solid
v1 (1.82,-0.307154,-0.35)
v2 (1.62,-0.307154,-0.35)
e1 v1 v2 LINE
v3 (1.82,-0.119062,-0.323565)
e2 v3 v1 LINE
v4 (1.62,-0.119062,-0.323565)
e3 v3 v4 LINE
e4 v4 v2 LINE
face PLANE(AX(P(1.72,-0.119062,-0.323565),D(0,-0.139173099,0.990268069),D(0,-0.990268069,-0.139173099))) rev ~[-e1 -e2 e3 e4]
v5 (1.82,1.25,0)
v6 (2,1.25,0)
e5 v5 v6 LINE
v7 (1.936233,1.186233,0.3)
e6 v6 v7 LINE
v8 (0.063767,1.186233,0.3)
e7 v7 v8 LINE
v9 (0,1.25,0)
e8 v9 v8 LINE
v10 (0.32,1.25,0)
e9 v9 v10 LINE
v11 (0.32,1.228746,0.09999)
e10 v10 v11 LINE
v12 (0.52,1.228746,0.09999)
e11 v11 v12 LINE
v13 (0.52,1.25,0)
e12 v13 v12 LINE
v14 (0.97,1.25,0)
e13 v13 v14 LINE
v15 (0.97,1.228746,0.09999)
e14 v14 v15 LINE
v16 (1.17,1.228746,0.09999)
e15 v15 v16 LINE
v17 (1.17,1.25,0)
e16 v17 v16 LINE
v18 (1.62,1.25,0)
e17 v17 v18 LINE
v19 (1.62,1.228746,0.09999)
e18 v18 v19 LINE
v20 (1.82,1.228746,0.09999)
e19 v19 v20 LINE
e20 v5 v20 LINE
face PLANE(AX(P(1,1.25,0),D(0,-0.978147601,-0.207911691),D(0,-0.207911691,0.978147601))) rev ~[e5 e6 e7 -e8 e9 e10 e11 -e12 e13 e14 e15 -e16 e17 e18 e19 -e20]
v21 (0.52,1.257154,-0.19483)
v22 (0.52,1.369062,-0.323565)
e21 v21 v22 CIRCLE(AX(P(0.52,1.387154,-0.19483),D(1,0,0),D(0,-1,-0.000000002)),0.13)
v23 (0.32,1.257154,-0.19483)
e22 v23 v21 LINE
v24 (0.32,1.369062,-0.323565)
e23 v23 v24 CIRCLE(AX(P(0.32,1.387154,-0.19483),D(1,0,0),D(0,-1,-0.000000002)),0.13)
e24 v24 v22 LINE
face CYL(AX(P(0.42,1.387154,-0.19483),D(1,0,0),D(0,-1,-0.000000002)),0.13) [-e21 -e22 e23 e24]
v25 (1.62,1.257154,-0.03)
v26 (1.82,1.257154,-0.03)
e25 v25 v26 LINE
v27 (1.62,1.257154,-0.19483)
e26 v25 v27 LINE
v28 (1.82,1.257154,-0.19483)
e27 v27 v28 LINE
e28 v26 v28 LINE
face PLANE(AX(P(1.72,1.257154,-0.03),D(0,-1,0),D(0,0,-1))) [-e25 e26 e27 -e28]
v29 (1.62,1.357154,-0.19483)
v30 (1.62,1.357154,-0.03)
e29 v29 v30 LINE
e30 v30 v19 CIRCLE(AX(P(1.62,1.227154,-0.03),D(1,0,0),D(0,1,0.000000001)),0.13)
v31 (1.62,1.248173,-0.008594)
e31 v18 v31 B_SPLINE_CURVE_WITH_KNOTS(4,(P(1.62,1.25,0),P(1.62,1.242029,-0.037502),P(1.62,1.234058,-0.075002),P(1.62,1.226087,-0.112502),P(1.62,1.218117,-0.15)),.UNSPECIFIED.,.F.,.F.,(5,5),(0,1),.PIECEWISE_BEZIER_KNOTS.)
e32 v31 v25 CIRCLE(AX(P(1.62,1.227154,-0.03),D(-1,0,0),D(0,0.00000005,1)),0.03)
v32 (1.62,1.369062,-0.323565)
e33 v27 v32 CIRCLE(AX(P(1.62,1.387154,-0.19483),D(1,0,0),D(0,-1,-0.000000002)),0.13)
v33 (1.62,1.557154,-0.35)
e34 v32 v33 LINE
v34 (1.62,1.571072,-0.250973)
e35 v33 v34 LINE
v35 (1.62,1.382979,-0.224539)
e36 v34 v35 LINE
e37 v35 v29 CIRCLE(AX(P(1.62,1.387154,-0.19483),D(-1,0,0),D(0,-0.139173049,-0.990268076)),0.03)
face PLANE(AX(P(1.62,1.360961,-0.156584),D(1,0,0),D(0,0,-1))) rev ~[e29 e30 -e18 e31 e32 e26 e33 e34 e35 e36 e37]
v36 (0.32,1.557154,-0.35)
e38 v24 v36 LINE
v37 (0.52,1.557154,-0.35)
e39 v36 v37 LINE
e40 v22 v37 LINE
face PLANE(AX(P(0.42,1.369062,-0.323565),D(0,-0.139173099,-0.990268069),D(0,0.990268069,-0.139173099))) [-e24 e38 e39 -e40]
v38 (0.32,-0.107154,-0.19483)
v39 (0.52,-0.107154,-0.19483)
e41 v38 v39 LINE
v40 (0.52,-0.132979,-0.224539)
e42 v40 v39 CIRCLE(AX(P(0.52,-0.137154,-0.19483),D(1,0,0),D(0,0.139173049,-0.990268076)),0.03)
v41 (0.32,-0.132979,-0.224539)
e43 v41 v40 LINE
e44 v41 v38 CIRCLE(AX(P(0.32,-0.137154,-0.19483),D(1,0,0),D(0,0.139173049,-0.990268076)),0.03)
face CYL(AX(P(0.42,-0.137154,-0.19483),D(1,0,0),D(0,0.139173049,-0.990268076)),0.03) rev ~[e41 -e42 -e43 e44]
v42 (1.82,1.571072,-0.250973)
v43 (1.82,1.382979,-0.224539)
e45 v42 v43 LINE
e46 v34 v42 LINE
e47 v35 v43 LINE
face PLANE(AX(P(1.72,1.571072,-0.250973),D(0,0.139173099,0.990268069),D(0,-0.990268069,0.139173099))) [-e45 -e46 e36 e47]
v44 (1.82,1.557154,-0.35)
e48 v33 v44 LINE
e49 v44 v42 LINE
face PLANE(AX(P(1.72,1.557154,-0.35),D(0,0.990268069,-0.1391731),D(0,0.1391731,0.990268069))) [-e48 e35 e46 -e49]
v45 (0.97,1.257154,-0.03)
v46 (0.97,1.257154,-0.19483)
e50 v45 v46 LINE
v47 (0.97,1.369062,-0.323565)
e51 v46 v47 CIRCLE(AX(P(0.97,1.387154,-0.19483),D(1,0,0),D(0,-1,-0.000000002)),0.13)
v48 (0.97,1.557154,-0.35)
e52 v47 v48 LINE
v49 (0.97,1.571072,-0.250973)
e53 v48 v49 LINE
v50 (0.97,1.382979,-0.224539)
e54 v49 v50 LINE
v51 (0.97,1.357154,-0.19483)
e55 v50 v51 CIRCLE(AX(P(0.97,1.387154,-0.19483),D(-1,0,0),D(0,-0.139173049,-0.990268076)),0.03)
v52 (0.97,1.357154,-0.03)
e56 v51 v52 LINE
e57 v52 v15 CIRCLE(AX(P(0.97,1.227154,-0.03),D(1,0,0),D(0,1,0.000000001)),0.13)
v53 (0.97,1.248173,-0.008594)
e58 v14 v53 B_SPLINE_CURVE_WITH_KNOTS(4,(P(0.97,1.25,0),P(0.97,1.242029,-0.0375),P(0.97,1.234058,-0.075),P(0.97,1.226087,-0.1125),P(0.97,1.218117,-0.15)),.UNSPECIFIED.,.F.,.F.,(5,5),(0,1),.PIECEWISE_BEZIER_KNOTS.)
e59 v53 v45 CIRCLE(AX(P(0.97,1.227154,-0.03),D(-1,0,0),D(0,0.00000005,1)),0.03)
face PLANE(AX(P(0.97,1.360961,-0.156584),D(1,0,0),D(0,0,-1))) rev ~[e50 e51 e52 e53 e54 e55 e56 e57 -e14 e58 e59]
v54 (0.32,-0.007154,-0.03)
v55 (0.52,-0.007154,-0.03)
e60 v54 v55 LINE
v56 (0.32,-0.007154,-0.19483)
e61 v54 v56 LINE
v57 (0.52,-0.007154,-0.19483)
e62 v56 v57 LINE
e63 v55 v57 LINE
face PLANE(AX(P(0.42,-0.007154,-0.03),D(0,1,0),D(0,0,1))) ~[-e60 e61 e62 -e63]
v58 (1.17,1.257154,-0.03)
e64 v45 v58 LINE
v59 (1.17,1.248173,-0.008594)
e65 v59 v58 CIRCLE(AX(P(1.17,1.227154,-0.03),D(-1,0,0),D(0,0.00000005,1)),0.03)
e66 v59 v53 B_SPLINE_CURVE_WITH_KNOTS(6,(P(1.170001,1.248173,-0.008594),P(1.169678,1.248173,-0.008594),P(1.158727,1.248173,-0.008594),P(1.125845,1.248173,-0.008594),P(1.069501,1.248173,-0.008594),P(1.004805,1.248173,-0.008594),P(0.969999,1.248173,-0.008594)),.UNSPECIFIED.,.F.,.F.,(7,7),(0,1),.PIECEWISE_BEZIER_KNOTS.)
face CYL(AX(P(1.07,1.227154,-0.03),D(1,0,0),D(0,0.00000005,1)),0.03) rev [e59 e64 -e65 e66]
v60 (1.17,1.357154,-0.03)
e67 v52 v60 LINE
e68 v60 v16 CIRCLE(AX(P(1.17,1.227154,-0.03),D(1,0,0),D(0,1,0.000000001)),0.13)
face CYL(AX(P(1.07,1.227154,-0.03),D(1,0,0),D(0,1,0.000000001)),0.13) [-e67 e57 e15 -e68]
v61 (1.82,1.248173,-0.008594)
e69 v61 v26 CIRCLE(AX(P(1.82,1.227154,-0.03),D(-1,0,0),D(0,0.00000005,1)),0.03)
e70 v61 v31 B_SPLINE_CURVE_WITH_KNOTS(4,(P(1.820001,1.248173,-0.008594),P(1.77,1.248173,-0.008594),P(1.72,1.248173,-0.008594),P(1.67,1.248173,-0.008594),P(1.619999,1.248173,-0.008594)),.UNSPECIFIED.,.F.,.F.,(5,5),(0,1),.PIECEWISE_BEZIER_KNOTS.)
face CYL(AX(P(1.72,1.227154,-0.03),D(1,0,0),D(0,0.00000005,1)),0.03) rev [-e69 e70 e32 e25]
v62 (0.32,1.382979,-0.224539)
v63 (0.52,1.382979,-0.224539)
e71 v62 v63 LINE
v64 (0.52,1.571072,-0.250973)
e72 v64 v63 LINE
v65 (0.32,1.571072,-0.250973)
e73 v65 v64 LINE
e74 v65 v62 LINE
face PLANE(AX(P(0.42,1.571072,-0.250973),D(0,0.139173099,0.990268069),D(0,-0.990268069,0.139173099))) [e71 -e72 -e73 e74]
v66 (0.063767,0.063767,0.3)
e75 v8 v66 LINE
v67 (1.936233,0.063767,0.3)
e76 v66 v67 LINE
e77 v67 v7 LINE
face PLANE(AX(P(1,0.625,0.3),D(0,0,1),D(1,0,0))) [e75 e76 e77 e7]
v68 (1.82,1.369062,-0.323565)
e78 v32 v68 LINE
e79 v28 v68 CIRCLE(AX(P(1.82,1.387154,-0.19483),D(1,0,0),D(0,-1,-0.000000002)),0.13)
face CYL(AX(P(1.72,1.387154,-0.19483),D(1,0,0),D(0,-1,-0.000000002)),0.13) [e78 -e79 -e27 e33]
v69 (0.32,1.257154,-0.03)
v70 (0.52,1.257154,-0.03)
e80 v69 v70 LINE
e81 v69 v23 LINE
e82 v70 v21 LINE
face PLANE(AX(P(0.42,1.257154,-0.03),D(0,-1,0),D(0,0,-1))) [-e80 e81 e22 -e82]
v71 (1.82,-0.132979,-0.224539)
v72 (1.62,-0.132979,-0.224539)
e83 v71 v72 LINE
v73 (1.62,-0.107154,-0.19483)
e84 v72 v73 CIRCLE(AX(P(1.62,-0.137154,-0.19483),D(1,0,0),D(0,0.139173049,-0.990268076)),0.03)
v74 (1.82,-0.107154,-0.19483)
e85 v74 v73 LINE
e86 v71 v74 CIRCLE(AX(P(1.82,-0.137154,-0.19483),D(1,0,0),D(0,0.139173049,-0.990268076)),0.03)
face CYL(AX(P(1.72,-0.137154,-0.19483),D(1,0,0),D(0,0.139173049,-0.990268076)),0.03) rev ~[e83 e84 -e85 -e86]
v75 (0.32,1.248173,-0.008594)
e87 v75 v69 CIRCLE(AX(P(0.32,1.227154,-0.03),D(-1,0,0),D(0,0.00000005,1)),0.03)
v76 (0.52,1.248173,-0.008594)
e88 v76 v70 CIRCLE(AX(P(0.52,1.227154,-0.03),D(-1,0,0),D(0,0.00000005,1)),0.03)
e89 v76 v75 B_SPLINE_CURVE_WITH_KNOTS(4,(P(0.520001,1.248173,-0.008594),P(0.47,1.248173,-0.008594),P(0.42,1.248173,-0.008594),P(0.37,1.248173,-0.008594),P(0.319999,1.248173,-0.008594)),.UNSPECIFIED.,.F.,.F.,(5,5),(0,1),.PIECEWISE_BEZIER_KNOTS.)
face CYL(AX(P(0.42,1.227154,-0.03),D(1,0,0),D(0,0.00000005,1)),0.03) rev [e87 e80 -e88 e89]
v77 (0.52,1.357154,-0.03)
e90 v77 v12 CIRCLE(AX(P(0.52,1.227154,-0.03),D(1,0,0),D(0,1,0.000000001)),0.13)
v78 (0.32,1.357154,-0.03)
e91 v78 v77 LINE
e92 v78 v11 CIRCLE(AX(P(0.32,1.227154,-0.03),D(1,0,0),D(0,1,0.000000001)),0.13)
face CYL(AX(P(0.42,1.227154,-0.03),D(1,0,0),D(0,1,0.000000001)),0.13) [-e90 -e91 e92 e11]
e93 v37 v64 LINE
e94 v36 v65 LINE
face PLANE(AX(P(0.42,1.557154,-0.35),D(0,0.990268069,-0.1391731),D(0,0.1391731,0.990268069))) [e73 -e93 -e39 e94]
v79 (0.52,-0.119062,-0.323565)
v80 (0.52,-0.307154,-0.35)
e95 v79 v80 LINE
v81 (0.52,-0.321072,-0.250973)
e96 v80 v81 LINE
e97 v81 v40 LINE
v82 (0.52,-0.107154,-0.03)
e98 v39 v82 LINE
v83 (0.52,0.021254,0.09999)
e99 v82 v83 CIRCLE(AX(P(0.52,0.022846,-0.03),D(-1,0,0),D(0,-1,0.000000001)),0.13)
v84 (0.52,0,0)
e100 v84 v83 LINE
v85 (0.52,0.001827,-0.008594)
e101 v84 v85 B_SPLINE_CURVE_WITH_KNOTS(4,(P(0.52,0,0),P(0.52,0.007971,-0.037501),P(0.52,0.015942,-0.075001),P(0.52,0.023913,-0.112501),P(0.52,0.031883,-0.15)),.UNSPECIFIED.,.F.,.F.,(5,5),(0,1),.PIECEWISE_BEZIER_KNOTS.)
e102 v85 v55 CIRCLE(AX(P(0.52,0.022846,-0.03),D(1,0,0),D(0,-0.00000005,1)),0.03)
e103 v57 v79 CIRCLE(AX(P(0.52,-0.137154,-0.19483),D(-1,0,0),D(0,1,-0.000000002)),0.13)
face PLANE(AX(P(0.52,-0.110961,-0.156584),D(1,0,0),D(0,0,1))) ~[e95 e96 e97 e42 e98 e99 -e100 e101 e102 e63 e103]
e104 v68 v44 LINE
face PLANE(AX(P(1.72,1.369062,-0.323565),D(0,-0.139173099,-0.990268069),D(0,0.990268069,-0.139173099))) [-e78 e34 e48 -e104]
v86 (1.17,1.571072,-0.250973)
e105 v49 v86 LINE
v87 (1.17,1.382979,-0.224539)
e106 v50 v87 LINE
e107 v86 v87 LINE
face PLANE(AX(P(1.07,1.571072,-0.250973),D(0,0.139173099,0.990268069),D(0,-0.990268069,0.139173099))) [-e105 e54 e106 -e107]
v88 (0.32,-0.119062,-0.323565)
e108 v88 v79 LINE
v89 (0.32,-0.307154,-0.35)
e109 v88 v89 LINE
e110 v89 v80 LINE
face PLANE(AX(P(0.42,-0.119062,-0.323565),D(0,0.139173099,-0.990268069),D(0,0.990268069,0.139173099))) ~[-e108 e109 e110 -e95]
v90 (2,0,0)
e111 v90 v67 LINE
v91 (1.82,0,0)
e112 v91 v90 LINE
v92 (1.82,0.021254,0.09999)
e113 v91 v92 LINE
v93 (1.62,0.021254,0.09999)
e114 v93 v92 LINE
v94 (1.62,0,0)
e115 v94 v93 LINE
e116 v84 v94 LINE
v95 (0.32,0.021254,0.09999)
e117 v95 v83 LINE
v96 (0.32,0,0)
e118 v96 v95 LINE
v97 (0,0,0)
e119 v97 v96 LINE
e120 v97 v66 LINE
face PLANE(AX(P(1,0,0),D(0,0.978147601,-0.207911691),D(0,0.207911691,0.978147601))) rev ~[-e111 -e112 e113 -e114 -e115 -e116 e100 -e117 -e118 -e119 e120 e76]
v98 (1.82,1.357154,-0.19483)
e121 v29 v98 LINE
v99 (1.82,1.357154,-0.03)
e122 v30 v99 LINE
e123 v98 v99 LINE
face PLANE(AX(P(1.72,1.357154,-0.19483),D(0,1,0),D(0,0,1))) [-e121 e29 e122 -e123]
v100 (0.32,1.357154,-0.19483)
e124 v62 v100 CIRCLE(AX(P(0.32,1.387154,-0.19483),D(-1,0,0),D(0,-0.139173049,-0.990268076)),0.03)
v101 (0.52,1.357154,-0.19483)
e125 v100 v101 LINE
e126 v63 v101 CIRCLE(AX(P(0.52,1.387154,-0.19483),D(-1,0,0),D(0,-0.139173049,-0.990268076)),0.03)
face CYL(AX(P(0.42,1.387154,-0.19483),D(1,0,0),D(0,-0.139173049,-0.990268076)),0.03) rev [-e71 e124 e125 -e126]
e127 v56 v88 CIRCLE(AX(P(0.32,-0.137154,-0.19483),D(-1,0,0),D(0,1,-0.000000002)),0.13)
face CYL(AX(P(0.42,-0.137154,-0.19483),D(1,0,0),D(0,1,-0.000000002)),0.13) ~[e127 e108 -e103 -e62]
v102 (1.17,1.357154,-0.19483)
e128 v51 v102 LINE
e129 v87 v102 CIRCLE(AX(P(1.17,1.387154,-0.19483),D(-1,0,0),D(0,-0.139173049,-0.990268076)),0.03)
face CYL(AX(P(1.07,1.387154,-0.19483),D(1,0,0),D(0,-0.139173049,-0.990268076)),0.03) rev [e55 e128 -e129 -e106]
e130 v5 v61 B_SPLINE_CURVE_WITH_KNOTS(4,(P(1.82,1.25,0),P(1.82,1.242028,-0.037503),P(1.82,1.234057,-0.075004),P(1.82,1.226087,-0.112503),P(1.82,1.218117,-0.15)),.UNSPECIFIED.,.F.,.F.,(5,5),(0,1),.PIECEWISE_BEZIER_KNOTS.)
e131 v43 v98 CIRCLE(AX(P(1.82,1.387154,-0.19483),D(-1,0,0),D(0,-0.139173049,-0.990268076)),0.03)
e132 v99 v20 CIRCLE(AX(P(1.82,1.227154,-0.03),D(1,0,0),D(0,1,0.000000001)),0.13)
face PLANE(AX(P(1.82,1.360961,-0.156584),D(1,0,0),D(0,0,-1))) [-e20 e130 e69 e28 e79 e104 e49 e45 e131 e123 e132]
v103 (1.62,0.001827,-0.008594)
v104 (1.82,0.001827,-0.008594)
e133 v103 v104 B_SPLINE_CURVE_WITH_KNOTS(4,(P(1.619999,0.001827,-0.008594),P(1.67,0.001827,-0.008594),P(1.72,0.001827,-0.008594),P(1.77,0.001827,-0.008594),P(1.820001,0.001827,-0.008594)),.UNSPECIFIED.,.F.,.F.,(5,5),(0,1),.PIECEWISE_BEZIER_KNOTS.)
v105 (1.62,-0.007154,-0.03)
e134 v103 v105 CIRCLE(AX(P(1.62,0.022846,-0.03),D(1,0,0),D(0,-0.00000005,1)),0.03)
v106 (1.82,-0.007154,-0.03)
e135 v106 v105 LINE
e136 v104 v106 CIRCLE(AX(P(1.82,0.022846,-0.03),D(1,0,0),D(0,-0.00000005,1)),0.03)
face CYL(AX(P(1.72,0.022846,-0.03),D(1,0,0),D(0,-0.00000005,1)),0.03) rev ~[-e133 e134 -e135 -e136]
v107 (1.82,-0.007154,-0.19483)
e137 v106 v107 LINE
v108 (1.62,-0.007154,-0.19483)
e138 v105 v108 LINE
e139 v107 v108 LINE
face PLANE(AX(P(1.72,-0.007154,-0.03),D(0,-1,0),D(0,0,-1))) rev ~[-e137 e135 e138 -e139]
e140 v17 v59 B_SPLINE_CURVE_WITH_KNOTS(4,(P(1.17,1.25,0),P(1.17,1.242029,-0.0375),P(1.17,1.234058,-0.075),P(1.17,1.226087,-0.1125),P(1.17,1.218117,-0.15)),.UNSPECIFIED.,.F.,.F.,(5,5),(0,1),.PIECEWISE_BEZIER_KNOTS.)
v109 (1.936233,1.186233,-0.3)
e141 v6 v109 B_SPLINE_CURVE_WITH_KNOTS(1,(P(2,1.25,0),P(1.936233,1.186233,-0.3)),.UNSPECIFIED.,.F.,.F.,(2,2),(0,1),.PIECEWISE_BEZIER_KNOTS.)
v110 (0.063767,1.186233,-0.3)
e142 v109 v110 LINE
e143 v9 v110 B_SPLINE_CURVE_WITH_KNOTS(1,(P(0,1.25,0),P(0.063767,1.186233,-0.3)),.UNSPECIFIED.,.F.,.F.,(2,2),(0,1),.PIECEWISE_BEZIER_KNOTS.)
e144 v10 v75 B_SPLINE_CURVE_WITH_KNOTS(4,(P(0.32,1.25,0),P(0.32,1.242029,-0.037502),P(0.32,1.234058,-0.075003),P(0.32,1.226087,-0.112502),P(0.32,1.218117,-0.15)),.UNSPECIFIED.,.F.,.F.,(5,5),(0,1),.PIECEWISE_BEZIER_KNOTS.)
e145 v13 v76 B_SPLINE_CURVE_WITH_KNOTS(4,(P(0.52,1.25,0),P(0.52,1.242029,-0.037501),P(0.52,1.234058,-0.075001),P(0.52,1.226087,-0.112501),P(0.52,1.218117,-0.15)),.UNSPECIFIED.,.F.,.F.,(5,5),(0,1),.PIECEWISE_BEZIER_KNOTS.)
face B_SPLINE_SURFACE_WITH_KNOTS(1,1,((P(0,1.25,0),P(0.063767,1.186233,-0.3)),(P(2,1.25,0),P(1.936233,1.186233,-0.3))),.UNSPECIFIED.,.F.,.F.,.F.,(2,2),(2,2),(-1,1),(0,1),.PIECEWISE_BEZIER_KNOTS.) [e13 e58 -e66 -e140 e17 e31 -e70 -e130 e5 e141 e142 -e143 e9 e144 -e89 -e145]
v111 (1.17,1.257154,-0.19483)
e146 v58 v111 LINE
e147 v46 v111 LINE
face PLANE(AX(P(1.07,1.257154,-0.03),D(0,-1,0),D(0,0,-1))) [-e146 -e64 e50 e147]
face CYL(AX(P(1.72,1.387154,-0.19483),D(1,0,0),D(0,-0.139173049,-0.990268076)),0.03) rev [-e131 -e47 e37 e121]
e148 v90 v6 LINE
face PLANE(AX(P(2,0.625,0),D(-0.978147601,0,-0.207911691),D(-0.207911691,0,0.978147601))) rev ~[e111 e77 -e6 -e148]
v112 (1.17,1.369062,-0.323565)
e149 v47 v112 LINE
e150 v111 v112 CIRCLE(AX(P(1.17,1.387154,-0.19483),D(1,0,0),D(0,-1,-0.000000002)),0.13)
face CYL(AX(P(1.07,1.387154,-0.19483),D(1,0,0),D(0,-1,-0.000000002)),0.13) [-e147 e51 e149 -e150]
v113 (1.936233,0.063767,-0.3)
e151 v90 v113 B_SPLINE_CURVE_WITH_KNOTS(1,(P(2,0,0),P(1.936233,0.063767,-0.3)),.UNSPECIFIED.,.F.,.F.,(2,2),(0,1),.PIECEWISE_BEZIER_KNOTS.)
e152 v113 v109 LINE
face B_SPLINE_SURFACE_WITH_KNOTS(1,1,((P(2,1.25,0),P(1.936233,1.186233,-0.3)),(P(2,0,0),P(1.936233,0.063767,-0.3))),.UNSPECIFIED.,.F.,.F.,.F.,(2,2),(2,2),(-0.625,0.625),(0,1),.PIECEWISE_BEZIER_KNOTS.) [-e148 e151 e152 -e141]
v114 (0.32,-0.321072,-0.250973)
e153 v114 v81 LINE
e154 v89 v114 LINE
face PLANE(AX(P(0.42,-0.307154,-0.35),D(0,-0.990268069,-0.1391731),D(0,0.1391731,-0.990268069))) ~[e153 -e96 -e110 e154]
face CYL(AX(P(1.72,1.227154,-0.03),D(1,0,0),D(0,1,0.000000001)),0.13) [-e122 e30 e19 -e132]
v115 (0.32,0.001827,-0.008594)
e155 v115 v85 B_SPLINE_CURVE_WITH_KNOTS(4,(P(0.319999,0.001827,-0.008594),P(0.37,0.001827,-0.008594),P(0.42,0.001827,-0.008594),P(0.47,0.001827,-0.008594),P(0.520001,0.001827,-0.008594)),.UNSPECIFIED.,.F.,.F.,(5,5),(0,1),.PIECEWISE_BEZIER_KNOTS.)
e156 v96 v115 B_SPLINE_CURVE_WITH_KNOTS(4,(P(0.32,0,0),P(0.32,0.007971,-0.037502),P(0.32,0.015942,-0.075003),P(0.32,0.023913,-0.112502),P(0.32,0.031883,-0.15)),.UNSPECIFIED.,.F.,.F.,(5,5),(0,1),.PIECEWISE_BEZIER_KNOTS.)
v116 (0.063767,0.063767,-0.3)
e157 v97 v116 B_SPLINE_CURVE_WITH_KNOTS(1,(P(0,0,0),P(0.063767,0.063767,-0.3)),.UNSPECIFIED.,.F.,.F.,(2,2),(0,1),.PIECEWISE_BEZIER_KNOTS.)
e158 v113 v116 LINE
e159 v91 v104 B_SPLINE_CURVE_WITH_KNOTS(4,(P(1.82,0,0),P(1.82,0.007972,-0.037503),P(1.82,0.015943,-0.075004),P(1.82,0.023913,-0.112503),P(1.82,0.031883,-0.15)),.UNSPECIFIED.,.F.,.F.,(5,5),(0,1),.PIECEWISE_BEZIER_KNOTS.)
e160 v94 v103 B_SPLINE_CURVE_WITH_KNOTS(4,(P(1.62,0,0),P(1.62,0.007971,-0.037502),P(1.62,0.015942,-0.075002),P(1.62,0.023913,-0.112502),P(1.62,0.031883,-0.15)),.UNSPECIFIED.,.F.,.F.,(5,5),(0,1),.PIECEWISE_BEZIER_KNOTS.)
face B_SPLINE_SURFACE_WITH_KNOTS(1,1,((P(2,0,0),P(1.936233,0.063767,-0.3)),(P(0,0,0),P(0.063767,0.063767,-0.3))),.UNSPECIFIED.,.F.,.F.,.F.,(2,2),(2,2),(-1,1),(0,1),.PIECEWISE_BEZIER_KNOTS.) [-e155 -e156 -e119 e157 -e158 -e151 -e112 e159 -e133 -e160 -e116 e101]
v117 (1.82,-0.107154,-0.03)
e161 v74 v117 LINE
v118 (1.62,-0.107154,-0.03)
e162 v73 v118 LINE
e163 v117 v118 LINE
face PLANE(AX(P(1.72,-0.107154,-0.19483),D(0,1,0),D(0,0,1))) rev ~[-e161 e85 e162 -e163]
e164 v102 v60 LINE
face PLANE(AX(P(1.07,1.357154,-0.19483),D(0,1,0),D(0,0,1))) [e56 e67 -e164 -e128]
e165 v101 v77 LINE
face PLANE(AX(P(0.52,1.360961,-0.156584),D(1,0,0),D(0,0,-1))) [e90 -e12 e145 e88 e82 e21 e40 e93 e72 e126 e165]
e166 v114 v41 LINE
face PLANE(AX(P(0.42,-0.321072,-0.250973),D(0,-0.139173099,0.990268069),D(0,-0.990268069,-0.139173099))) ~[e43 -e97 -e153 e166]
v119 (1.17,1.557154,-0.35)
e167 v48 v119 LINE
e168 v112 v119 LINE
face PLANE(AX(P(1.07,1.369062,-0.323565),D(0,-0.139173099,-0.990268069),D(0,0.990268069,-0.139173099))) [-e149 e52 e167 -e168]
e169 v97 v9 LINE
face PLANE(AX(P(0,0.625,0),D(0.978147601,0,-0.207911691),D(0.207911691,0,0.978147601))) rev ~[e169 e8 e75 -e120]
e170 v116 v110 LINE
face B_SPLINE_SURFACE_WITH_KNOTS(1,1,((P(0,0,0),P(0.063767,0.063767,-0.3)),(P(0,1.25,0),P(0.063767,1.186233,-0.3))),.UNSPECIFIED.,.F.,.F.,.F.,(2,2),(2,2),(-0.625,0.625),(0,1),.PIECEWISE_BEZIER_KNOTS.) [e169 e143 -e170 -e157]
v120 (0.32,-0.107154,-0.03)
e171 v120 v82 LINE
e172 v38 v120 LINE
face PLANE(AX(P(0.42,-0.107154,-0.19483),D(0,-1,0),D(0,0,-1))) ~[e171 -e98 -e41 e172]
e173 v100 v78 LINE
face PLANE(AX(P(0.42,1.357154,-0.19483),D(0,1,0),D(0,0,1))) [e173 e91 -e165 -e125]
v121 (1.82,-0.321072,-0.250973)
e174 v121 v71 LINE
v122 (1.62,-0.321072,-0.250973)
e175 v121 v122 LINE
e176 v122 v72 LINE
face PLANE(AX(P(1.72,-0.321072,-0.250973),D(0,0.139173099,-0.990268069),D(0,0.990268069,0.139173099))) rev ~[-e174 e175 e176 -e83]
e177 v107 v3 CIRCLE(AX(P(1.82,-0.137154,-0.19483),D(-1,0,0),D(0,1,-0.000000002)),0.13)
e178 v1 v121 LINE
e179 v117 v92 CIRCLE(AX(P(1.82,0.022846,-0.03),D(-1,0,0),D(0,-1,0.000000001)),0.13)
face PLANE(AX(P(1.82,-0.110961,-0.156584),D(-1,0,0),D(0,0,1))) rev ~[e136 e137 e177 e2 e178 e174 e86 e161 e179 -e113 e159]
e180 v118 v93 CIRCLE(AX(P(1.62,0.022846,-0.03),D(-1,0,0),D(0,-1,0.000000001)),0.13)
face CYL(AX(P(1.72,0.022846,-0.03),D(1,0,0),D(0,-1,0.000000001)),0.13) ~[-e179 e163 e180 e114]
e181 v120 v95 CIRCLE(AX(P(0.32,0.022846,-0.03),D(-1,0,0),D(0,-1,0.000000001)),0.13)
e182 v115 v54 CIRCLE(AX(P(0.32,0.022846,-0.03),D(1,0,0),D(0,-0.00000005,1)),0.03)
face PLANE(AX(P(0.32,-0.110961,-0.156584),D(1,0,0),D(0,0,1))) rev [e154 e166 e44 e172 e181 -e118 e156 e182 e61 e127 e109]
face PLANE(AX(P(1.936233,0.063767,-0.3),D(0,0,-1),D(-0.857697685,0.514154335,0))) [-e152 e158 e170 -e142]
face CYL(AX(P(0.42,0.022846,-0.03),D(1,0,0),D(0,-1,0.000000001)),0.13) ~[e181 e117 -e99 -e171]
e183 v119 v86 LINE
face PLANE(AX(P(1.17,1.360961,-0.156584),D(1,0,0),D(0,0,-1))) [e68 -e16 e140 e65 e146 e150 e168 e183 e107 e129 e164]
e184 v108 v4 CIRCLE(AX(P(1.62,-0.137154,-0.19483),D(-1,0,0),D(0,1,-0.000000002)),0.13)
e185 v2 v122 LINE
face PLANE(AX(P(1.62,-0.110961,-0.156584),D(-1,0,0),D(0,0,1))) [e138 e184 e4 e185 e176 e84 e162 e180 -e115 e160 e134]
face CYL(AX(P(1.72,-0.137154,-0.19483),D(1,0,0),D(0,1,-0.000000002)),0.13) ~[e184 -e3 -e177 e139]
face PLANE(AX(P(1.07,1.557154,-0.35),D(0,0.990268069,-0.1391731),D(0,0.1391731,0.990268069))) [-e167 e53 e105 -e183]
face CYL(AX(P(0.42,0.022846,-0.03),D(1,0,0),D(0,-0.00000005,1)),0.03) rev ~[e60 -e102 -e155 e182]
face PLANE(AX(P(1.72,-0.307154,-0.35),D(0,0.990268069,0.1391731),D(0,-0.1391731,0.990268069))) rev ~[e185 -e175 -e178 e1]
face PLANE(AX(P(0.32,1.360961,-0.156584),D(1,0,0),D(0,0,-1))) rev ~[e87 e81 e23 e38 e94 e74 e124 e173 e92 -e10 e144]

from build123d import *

# Parameters (mm, degrees)
SKETCH1_W            = 2
SKETCH1_H            = 1.25
BOSS_EXTRUDE1_DEPTH  = 0.3
BOSS_EXTRUDE1_TAPER  = 12
SKETCH2_W            = 2
SKETCH2_H            = 1.25
BOSS_EXTRUDE2_DEPTH  = 0.3
BOSS_EXTRUDE2_TAPER  = 12
EXTRUDE_THIN1_DEPTH  = 0.1
LPATTERN1_COUNT      = 3
LPATTERN1_PITCH      = 0.65
MIRROR1_COPY_1_DEPTH = 0.1
LPATTERN2_COUNT      = 2
LPATTERN2_PITCH      = 0.65


with BuildPart() as part:
    # Sketch1 → Boss-Extrude1 (new body)
    with BuildSketch(Plane.XY):
        with Locations((1, 0.625)):
            Rectangle(SKETCH1_W, SKETCH1_H)
    extrude(amount=BOSS_EXTRUDE1_DEPTH, taper=BOSS_EXTRUDE1_TAPER)

    # Sketch2 → Boss-Extrude2 (add)
    with BuildSketch(Plane(origin=(0, 0, 0), x_dir=(-1, 0, 0), z_dir=(0, 0, -1))):
        with Locations((-1, 0.625)):
            Rectangle(SKETCH2_W, SKETCH2_H)
    extrude(amount=BOSS_EXTRUDE2_DEPTH, taper=BOSS_EXTRUDE2_TAPER)

    # Sketch4 → Extrude-Thin1 (add, symmetric)
    with BuildSketch(Plane(origin=(0.42, 0, 0), x_dir=(0, 0, -1), z_dir=(1, 0, 0))):
        with BuildLine():
            Line((0, 1.218116516), (0, 1.227154368))
            ThreePointArc((0, 1.227154368), (0.008786797, 1.248367571), (0.03, 1.257154368))
            Line((0.03, 1.257154368), (0.194830474, 1.257154368))
            ThreePointArc((0.194830474, 1.257154368), (0.280118147, 1.289042122), (0.323565323, 1.369061865))
            Line((0.323565323, 1.369061865), (0.35, 1.557154368))
            Line((0.35, 1.557154368), (0.250973193, 1.571071678))
            Line((0.250973193, 1.571071678), (0.224538516, 1.382979175))
            ThreePointArc((0.224538516, 1.382979175), (0.214512245, 1.36451308), (0.194830474, 1.357154368))
            Line((0.194830474, 1.357154368), (0.03, 1.357154368))
            ThreePointArc((0.03, 1.357154368), (-0.061923882, 1.319078249), (-0.1, 1.227154368))
            Line((-0.1, 1.227154368), (-0.1, 1.218116516))
            Line((-0.1, 1.218116516), (0, 1.218116516))
        make_face()
    extrude_thin1 = extrude(amount=EXTRUDE_THIN1_DEPTH, both=True)

    # LPattern1: Extrude-Thin1 ×3, 1 skipped
    with Locations(*[(i * LPATTERN1_PITCH, 0, 0) for i in range(1, LPATTERN1_COUNT) if i not in (1,)]):
        add(extrude_thin1)

    # Mirror1: Extrude-Thin1 across plane
    add(extrude_thin1.mirror(Plane.ZX.offset(0.625)))

    # Mirror1 copy 1 sketch → Mirror1 copy 1 (add, symmetric)
    with BuildSketch(Plane(origin=(1.72, 1.25, 0), x_dir=(0, 0, -1), z_dir=(1, 0, 0))):
        with BuildLine():
            Line((0, -1.218116516), (0, -1.227154368))
            ThreePointArc((0, -1.227154368), (0.008786797, -1.248367571), (0.03, -1.257154368))
            Line((0.03, -1.257154368), (0.194830474, -1.257154368))
            ThreePointArc((0.194830474, -1.257154368), (0.280118147, -1.289042122), (0.323565323, -1.369061865))
            Line((0.323565323, -1.369061865), (0.35, -1.557154368))
            Line((0.35, -1.557154368), (0.250973193, -1.571071678))
            Line((0.250973193, -1.571071678), (0.224538516, -1.382979175))
            ThreePointArc((0.224538516, -1.382979175), (0.214512245, -1.36451308), (0.194830474, -1.357154368))
            Line((0.194830474, -1.357154368), (0.03, -1.357154368))
            ThreePointArc((0.03, -1.357154368), (-0.061923882, -1.319078249), (-0.1, -1.227154368))
            Line((-0.1, -1.227154368), (-0.1, -1.218116516))
            Line((-0.1, -1.218116516), (0, -1.218116516))
        make_face()
    extrude(amount=MIRROR1_COPY_1_DEPTH, both=True)

    # LPattern2: Extrude-Thin1 ×2
    with Locations(*[(i * LPATTERN2_PITCH, 0, 0) for i in range(1, LPATTERN2_COUNT)]):
        add(extrude_thin1)


solid = part.part
